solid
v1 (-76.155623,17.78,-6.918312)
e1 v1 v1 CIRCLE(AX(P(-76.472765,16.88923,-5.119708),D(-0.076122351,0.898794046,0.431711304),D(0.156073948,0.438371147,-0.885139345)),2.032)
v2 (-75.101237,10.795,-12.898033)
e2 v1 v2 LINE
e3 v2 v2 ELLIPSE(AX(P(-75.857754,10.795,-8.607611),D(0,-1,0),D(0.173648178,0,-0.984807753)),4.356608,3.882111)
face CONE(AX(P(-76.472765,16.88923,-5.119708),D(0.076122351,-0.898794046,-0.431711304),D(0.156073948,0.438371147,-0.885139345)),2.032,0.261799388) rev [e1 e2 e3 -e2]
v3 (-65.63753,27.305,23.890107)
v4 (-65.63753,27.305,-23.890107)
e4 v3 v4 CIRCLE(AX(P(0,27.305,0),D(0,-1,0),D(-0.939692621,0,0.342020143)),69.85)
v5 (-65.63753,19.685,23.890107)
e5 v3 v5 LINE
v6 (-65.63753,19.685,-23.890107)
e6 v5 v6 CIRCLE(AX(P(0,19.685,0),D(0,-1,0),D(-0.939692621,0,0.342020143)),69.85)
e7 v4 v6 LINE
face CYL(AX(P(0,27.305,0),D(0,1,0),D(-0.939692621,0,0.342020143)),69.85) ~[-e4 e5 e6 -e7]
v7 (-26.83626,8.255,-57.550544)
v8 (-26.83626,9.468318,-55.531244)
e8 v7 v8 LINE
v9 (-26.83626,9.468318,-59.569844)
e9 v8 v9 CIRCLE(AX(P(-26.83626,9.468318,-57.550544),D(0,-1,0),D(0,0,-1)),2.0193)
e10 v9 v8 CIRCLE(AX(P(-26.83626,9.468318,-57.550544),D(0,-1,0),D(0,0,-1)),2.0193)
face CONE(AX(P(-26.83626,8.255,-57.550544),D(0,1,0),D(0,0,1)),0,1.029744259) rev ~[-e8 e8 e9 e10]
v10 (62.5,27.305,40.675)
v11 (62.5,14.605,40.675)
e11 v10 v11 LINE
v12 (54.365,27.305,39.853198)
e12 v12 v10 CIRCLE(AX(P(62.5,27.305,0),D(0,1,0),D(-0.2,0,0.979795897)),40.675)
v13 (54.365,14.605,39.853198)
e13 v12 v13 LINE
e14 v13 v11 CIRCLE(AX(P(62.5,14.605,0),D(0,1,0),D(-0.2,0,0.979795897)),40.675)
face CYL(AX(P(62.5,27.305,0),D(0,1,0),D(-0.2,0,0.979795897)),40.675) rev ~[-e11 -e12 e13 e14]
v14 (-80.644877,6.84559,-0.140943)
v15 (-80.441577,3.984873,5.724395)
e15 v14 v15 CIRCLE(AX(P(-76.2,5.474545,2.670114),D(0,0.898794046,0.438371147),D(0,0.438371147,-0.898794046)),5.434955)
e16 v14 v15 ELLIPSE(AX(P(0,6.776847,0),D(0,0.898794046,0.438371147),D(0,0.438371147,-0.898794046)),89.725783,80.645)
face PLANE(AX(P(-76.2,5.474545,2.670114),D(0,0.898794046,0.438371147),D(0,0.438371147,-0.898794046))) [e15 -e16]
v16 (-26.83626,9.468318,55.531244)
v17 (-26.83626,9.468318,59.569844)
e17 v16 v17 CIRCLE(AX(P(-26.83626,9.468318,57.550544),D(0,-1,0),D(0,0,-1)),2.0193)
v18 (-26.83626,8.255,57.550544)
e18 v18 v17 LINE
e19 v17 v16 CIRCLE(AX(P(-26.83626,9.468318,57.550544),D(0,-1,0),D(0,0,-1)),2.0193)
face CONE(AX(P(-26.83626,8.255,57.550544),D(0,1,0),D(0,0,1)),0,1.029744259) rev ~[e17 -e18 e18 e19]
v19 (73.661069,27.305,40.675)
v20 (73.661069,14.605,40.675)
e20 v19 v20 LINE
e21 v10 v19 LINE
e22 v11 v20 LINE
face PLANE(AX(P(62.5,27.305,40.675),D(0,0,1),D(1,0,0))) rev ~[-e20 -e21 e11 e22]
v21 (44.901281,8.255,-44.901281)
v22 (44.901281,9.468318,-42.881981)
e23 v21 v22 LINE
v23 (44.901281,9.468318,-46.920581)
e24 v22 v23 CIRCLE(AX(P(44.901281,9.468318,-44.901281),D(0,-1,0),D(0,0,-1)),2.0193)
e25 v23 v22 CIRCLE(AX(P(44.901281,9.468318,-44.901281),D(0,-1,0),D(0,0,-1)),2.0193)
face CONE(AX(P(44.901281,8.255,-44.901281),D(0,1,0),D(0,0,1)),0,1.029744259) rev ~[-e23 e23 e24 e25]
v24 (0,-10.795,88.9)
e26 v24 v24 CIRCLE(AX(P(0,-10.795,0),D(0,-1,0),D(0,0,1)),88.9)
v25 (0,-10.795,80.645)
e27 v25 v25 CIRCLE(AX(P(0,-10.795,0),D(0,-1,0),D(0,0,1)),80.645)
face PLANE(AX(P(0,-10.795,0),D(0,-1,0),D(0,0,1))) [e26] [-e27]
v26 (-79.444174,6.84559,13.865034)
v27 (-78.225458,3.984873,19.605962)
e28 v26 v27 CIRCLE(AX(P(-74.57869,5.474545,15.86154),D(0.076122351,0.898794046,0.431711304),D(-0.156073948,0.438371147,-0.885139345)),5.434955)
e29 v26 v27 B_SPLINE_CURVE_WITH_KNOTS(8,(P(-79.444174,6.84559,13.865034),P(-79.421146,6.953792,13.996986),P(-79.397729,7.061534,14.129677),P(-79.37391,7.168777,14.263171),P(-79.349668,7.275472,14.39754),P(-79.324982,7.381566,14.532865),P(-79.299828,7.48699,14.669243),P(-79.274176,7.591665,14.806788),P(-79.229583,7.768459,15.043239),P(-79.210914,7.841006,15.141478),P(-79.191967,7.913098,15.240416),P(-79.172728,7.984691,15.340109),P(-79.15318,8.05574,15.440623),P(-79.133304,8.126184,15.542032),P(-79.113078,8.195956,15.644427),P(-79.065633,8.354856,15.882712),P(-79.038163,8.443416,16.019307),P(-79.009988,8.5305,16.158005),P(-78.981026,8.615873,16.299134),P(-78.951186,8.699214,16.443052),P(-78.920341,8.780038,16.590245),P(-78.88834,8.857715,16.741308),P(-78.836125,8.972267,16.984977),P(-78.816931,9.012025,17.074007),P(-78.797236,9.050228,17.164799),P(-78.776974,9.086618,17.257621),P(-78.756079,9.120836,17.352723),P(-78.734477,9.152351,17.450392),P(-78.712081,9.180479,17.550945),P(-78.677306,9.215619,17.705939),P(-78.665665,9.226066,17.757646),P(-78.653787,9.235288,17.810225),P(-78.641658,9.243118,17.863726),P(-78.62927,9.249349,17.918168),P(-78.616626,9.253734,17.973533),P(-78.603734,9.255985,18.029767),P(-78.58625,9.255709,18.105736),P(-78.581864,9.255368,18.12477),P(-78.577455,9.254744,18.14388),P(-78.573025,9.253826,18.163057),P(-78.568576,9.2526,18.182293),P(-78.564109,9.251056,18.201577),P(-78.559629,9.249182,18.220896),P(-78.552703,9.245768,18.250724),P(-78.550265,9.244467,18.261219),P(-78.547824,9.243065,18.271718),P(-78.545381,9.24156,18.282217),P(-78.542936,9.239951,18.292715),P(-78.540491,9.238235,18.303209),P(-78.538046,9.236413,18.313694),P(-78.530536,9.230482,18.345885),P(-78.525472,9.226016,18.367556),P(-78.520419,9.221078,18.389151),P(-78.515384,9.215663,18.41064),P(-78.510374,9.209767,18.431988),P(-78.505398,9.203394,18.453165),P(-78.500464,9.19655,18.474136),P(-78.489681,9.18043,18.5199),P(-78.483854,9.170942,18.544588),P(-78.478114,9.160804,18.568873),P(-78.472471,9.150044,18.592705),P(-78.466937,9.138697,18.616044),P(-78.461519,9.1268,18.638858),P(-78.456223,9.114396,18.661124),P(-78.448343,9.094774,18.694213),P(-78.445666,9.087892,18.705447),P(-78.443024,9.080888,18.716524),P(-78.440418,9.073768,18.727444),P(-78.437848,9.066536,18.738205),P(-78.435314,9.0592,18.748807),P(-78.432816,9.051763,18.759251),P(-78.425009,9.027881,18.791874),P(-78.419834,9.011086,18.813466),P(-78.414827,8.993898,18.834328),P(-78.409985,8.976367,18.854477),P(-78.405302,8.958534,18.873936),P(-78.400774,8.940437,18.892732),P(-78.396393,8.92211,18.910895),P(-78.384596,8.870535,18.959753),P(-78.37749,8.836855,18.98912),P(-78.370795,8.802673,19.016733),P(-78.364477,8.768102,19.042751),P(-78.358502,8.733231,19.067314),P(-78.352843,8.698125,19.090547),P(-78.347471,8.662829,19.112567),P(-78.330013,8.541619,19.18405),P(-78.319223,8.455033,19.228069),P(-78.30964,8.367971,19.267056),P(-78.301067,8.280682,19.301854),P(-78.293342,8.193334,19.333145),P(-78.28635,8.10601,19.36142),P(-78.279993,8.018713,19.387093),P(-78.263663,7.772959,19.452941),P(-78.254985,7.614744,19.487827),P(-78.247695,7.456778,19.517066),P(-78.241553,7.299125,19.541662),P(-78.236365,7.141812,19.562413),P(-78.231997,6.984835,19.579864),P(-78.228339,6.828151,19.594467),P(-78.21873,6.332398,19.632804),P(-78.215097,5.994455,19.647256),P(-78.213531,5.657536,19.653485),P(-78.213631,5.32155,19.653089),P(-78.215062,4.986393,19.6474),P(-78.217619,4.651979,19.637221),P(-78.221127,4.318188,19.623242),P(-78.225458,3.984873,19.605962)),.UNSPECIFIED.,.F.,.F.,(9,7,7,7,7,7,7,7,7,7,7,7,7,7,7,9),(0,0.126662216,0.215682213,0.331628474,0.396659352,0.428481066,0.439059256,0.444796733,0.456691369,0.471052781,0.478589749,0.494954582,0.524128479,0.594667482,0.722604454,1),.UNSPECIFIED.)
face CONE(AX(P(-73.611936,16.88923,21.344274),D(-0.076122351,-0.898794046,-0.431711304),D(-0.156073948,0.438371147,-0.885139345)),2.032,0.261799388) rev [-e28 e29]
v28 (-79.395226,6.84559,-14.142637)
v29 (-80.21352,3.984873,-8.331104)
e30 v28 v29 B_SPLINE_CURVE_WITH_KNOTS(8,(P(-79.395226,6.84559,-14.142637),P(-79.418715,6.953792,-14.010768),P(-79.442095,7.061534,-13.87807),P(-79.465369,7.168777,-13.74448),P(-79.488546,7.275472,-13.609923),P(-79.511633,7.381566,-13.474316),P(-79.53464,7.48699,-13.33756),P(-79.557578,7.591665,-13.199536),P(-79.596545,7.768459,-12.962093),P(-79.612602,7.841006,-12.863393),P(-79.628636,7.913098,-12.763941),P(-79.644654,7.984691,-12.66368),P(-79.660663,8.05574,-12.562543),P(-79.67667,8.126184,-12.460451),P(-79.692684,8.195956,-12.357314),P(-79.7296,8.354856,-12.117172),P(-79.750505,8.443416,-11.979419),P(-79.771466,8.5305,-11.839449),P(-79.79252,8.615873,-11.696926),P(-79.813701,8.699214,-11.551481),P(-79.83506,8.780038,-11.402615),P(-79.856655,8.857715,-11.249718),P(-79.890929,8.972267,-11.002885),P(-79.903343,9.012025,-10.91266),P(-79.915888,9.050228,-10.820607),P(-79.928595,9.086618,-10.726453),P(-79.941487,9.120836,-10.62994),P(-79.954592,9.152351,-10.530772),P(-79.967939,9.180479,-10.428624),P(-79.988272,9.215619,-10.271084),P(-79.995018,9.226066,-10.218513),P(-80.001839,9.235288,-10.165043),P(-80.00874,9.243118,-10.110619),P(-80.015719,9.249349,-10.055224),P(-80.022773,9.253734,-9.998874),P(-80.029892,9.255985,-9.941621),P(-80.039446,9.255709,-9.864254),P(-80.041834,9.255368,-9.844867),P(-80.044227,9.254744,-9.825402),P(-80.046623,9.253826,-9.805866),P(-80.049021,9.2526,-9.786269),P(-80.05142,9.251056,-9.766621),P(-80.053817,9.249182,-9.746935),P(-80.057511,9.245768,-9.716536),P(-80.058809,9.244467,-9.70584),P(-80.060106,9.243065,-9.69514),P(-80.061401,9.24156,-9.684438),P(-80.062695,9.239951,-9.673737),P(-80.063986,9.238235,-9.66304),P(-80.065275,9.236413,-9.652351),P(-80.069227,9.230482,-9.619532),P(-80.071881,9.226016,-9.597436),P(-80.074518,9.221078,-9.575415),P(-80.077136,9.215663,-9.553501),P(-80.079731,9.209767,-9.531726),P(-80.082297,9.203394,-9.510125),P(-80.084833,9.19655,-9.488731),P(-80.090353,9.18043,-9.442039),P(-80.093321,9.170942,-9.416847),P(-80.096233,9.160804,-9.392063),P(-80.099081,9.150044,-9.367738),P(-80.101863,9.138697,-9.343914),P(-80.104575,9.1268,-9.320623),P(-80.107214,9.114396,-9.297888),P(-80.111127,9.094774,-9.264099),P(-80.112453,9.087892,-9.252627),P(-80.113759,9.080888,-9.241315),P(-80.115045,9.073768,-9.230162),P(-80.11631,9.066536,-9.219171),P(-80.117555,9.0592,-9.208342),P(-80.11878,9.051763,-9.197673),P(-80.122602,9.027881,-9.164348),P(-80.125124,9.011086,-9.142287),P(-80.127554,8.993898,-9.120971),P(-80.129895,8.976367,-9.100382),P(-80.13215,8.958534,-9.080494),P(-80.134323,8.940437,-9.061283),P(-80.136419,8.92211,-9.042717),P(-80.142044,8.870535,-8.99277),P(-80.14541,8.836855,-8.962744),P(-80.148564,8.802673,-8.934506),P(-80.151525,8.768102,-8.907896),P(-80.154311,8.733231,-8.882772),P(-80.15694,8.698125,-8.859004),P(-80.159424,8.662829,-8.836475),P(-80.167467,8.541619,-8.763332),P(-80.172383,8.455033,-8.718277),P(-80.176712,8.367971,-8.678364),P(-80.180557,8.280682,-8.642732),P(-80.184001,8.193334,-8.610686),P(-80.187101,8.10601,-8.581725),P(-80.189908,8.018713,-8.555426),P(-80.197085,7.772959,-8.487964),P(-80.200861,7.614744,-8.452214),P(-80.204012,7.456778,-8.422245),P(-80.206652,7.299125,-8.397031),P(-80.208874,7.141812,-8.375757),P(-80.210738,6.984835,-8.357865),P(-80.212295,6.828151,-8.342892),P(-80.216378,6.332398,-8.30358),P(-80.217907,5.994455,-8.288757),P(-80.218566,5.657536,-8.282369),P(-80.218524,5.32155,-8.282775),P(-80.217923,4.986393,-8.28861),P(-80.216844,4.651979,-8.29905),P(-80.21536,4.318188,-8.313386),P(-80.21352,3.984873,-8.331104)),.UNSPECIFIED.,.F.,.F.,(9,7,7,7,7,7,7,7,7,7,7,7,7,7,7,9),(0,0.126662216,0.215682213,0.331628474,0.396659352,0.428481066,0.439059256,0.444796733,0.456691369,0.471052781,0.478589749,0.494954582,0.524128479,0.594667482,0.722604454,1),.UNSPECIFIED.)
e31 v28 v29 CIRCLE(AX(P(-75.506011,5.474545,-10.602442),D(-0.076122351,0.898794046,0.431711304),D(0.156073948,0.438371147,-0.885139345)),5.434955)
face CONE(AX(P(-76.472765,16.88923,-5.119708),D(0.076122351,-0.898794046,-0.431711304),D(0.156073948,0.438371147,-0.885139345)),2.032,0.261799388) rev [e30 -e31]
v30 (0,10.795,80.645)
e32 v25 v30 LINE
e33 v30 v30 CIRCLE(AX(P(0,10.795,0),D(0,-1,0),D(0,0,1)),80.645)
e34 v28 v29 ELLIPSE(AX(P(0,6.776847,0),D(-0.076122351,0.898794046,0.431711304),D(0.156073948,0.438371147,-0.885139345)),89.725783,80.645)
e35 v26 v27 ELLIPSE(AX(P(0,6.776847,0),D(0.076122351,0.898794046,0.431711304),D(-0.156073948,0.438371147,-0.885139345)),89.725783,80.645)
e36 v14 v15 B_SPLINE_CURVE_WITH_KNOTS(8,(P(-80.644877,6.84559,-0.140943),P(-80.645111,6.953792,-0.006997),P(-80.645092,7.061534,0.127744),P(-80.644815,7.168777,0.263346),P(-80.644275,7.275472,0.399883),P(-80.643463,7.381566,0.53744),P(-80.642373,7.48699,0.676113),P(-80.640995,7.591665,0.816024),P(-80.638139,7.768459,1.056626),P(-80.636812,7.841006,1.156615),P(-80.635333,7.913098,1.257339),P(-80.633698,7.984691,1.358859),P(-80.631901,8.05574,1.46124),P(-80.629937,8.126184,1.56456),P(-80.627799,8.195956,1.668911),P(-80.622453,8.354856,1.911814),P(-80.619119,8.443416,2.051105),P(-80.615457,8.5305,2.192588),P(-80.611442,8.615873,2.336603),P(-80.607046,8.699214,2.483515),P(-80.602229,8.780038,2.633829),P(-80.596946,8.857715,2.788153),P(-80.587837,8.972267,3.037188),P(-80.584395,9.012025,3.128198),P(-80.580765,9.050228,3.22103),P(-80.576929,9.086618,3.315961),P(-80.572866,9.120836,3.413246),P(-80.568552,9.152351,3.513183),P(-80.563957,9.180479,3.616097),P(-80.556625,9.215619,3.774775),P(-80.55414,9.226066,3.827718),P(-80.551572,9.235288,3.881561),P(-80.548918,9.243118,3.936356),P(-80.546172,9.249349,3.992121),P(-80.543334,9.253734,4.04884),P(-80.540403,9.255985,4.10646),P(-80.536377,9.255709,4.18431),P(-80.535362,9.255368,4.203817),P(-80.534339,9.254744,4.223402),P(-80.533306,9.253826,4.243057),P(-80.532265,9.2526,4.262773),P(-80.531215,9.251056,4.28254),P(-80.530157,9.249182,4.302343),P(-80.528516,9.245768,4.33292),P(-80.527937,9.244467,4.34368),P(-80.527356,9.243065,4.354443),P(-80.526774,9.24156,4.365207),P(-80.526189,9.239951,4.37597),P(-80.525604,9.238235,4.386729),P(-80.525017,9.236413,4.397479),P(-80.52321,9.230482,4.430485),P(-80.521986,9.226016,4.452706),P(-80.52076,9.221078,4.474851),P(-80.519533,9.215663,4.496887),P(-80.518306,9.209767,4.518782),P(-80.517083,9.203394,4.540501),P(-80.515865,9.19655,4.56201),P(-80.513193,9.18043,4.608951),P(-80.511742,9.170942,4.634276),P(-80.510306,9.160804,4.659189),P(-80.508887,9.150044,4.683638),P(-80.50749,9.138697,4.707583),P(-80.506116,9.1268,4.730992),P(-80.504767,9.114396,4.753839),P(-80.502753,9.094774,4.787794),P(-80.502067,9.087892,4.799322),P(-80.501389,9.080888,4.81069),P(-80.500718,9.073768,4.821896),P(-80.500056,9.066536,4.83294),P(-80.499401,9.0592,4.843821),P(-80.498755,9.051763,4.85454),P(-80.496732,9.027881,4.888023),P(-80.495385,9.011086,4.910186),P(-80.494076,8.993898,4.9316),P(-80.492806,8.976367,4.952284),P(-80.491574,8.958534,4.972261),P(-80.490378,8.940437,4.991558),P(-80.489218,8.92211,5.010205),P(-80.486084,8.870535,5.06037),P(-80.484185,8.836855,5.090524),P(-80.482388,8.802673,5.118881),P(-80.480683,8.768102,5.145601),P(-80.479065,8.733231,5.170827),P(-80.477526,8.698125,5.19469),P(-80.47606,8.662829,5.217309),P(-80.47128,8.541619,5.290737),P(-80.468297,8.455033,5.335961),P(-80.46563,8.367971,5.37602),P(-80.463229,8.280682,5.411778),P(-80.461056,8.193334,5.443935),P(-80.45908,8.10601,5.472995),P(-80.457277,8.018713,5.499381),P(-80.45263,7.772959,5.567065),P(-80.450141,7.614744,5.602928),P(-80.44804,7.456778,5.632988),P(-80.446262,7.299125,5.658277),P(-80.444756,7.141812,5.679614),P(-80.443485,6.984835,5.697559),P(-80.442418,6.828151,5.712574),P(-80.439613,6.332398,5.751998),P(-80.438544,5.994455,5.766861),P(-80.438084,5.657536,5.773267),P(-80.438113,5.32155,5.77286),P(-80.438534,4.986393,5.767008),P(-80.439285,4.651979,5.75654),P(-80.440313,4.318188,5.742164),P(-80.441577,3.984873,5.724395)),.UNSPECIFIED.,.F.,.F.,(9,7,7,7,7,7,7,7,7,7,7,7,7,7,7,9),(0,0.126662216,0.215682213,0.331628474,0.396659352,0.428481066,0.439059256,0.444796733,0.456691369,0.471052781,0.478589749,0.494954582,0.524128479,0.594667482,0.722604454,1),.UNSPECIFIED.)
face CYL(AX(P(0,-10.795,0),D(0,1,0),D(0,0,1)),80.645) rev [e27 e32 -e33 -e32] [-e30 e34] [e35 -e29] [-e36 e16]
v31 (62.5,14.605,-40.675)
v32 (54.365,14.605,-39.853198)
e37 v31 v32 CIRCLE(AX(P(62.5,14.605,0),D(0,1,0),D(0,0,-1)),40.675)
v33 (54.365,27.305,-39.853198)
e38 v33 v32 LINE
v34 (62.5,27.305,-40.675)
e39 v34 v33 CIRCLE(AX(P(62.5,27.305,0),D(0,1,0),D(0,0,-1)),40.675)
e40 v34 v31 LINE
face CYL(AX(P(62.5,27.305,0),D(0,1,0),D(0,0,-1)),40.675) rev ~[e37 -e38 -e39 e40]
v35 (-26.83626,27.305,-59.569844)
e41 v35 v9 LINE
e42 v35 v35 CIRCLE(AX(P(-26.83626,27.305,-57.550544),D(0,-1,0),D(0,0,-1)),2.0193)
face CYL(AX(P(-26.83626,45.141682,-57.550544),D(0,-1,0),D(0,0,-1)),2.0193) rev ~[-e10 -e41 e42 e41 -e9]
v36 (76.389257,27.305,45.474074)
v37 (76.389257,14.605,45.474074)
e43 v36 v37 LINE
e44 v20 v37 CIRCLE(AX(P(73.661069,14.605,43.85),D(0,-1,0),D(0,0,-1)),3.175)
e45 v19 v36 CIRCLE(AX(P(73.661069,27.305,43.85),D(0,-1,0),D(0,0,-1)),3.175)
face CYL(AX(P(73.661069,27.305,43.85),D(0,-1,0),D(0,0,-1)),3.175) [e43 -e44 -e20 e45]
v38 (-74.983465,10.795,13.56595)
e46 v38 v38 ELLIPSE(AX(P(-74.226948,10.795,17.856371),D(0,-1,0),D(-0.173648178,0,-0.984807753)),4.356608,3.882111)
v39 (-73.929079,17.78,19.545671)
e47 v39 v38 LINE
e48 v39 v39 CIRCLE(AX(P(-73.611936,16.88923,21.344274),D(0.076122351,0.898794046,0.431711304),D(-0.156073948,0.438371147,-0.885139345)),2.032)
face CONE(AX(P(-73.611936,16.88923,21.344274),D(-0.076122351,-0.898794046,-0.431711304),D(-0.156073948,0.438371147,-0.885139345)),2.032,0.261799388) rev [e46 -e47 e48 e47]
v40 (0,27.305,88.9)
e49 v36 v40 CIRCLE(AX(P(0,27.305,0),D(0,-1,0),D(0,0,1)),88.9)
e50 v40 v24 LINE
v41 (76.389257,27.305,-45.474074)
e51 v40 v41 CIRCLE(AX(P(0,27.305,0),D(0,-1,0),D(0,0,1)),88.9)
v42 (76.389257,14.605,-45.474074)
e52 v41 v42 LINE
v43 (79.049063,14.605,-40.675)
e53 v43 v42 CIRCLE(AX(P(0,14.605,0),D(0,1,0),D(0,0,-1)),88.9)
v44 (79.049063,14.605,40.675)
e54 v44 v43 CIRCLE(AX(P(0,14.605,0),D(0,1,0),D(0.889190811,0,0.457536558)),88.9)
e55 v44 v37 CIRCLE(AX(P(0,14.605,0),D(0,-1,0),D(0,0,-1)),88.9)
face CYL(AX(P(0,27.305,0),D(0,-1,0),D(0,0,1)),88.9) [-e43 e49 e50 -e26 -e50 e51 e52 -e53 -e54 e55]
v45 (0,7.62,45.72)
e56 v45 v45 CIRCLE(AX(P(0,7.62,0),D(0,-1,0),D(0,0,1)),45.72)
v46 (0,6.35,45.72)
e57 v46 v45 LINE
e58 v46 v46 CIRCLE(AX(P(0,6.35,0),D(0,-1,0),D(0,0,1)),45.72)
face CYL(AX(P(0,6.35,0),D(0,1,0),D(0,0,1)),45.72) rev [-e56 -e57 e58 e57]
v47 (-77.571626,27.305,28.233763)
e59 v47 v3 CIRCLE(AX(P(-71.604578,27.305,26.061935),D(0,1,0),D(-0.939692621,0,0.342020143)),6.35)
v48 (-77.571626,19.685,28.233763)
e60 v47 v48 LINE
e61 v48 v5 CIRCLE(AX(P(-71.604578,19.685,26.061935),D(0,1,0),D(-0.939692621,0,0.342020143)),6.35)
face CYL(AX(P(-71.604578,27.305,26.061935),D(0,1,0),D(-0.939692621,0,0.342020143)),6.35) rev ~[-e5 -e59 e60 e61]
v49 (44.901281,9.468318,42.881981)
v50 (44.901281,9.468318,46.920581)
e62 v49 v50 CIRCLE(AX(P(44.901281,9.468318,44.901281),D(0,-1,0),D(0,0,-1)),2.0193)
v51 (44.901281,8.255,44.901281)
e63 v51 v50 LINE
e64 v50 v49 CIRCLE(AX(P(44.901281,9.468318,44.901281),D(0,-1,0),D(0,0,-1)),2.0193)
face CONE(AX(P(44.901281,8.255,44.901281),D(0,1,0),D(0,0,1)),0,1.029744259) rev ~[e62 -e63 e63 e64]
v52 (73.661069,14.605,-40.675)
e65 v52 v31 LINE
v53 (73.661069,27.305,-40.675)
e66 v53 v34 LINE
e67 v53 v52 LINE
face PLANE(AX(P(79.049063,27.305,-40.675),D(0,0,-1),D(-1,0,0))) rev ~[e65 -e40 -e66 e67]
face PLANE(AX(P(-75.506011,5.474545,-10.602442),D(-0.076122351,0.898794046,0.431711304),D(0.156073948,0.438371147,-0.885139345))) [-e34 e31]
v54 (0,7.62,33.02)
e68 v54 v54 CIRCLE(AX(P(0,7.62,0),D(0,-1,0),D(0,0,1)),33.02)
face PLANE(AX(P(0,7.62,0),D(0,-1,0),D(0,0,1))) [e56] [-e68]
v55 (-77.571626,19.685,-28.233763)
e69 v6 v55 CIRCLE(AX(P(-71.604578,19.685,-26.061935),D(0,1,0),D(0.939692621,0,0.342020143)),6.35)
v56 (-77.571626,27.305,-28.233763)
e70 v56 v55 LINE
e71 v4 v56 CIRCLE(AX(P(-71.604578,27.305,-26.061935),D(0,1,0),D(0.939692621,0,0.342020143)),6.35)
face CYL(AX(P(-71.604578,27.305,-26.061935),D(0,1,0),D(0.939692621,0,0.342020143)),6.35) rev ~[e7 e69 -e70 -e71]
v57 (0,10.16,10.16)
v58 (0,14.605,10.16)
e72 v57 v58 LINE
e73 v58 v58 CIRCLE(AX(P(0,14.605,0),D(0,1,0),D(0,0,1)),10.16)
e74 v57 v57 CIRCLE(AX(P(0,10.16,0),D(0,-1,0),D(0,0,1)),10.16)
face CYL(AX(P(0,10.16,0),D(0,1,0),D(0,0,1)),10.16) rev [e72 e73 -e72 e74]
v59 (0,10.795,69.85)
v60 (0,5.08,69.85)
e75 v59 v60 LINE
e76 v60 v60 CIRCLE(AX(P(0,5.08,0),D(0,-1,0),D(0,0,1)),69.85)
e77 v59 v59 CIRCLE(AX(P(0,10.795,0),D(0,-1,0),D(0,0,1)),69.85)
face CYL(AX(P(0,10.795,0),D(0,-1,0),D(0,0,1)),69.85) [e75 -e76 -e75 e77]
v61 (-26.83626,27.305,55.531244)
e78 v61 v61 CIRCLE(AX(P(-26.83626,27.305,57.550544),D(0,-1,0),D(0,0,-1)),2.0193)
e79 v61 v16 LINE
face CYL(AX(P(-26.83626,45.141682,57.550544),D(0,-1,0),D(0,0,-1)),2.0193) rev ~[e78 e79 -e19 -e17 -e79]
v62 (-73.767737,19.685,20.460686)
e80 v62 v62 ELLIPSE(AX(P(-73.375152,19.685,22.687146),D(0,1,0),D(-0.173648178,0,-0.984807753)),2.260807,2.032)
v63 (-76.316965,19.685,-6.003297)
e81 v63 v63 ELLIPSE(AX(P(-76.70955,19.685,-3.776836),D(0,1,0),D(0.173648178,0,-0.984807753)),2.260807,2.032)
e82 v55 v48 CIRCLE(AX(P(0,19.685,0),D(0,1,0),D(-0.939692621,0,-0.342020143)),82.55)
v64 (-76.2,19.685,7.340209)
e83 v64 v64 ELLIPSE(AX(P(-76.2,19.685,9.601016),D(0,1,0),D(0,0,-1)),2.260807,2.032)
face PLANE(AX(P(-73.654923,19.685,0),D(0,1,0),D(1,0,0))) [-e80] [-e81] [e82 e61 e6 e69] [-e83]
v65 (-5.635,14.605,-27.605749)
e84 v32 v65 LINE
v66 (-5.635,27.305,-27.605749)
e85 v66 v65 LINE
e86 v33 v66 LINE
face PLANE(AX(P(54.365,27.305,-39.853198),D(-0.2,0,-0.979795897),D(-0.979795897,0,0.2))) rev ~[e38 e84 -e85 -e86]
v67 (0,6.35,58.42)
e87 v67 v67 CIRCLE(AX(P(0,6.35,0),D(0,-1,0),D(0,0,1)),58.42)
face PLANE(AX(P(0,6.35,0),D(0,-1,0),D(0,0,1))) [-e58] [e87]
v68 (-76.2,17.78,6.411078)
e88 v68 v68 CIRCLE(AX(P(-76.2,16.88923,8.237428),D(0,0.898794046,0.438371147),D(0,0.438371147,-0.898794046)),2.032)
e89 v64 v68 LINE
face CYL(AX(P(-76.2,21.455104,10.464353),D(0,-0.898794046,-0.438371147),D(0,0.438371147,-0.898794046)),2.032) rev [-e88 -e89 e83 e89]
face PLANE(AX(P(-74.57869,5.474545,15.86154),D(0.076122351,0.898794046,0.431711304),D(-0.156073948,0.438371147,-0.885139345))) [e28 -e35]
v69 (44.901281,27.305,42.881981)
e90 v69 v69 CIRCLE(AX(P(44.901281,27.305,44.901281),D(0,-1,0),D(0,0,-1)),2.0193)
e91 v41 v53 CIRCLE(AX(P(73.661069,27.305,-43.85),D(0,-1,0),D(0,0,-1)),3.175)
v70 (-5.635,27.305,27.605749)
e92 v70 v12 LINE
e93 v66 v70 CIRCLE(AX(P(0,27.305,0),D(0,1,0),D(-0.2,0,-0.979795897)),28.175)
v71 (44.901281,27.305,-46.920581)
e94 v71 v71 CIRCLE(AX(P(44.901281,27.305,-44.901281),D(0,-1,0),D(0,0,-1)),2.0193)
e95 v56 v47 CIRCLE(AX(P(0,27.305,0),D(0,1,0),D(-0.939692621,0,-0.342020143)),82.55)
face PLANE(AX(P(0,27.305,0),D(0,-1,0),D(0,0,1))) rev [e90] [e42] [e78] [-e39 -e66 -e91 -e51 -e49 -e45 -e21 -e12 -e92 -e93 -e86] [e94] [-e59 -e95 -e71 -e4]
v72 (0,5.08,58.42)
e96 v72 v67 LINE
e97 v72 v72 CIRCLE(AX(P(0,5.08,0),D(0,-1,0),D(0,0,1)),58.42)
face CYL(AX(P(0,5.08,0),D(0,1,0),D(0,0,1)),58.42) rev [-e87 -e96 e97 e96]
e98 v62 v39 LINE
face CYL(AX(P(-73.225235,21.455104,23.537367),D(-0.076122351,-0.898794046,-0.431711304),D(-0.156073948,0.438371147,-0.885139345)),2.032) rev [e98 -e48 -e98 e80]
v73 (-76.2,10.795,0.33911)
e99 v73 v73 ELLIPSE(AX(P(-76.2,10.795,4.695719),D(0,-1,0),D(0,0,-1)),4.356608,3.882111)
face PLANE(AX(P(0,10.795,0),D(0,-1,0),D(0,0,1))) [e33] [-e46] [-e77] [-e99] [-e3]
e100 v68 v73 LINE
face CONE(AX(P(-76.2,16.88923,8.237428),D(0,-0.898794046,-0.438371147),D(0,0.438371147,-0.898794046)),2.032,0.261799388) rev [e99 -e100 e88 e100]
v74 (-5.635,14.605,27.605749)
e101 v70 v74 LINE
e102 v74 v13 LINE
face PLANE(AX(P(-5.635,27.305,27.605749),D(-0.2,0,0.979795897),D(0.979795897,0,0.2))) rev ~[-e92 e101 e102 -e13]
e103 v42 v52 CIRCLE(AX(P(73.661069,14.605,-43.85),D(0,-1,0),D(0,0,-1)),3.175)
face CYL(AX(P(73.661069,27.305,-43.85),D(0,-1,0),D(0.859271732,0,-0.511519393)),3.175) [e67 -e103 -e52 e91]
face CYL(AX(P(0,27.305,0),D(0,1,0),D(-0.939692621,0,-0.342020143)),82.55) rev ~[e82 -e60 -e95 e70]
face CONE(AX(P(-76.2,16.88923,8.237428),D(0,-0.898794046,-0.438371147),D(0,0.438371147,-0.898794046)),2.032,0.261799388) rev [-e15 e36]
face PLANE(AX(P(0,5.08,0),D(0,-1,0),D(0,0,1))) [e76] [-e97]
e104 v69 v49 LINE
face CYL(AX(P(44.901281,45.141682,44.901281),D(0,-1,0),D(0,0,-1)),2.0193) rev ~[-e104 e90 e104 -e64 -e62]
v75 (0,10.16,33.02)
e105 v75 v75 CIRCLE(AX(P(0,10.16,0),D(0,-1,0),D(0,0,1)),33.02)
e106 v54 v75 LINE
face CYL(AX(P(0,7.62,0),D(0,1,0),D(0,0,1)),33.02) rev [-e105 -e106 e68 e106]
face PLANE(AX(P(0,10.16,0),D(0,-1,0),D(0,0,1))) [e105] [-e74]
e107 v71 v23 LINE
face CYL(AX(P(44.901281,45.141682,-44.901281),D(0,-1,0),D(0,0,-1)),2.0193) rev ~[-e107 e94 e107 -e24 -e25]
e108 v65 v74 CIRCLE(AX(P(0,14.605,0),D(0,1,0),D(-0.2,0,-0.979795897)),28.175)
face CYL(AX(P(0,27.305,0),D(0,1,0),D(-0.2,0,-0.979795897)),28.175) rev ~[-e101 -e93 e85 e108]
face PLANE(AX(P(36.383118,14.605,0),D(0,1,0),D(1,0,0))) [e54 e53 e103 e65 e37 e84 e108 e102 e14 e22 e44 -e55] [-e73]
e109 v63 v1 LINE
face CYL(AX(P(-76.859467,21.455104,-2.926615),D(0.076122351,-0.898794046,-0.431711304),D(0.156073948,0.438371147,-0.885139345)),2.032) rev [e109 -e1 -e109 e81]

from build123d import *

# Parameters (mm, degrees)
SKETCH1_R                       = 10.16
GEAR_SLOT_DEPTH                 = 12.7
CIRPATTERN1_COUNT               = 2
CIRPATTERN1_ANGLE               = 10
CIRPATTERN1_THE_OTHER_WAY_COUNT = 2
CIRPATTERN1_THE_OTHER_WAY_ANGLE = 10
GAS_MANIFOLD_DEPTH              = 7.62
FILLET1_R                       = 3.175
TAP_DRILL_FOR_10_32_TAP1_D      = 4.0386
TAP_DRILL_FOR_10_32_TAP1_DEPTH  = 17.836682152
TAP_DRILL_FOR_10_32_TAP1_TIP    = 1.213317848


with BuildPart() as part:
    # Sketch9 → Revolve1 (revolve)
    with BuildSketch(Plane.XY, mode=Mode.PRIVATE) as revolve1_sk:
        Polygon((-10.16, 10.16), (-10.16, 27.305), (-88.9, 27.305), (-88.9, -10.795), (-80.645, -10.795), (-80.645, 10.795), (-69.85, 10.795), (-69.85, 5.08), (-58.42, 5.08), (-58.42, 6.35), (-45.72, 6.35), (-45.72, 7.62), (-33.02, 7.62), (-33.02, 10.16), align=None)
    revolve(revolve1_sk.sketch.rotate(Axis((0, 18.1216542, 0), (0, -1, 0)), 270), axis=Axis((0, 18.1216542, 0), (0, -1, 0)))

    # Sketch1 → Gear Slot (cut)
    with BuildSketch(Plane(origin=(0, 27.305, 0), x_dir=(1, 0, 0), z_dir=(0, 1, 0))):
        with BuildLine():
            Line((62.5, -40.675), (79.049063087, -40.675))
            ThreePointArc((79.049063087, -40.675), (88.9, 0), (79.049063087, 40.675))
            Line((79.049063087, 40.675), (62.5, 40.675))
            ThreePointArc((62.5, 40.675), (58.41179797, 40.469028023), (54.365, 39.853198115))
            Line((54.365, 39.853198115), (-5.635, 27.605749401))
            ThreePointArc((-5.635, 27.605749401), (-28.175, 0), (-5.635, -27.605749401))
            Line((-5.635, -27.605749401), (54.365, -39.853198115))
            ThreePointArc((54.365, -39.853198115), (58.41179797, -40.469028023), (62.5, -40.675))
        make_face()
        with Locations(Location((0, 0, 0), (0, 0, 270))):
            Circle(SKETCH1_R, mode=Mode.SUBTRACT)
    extrude(amount=-GEAR_SLOT_DEPTH, mode=Mode.SUBTRACT)

    # Sketch5 one side → Orifice (revolve, cut)
    with BuildSketch(Plane(origin=(-76.2, 0, 0), x_dir=(0, 0, -1), z_dir=(1, 0, 0)), mode=Mode.PRIVATE) as orifice_sk:
        Polygon((-10.063777286, 15.998459659), (-7.555019185, 3.092018098), (-2.67011422, 5.474545442), (-10.464353209, 21.455103585), (-12.290702712, 20.564333415), align=None)
    orifice = revolve(orifice_sk.sketch.rotate(Axis((-76.2, 5.474545442, 2.67011422), (0, 0.8987940462991696, 0.43837114678907213)), 180), axis=Axis((-76.2, 5.474545442, 2.67011422), (0, 0.8987940462991696, 0.43837114678907213)), mode=Mode.SUBTRACT)

    # CirPattern1: Orifice ×2 about axis
    cirpattern1_axis = Axis((0, 17.78, 0), (0, -1, 0))
    for i in range(1, CIRPATTERN1_COUNT):
        add(orifice.rotate(cirpattern1_axis, i * CIRPATTERN1_ANGLE / (CIRPATTERN1_COUNT - 1)), mode=Mode.SUBTRACT)

    # CirPattern1 the other way: Orifice ×2 about axis
    cirpattern1_the_other_way_axis = Axis((0, 17.78, 0), (0, 1, 0))
    for i in range(1, CIRPATTERN1_THE_OTHER_WAY_COUNT):
        add(orifice.rotate(cirpattern1_the_other_way_axis, i * CIRPATTERN1_THE_OTHER_WAY_ANGLE / (CIRPATTERN1_THE_OTHER_WAY_COUNT - 1)), mode=Mode.SUBTRACT)

    # Sketch10 → Gas Manifold (cut)
    with BuildSketch(Plane(origin=(0, 27.305, 0), x_dir=(1, 0, 0), z_dir=(0, 1, 0))):
        with BuildLine():
            ThreePointArc((-65.637529562, -23.890107011), (-69.85, 0), (-65.637529562, 23.890107011))
            ThreePointArc((-65.637529562, 23.890107011), (-69.432749794, 32.028983063), (-77.571625846, 28.233762832))
            ThreePointArc((-77.571625846, 28.233762832), (-82.55, 0), (-77.571625846, -28.233762832))
            ThreePointArc((-77.571625846, -28.233762832), (-69.432749794, -32.028983063), (-65.637529562, -23.890107011))
        make_face()
    extrude(amount=-GAS_MANIFOLD_DEPTH, mode=Mode.SUBTRACT)

    # Fillet1
    fillet1_edges = [part.edges().sort_by_distance(p)[0] for p in [
        (79.049063087, 20.955, -40.675),
        (79.049063087, 20.955, 40.675),
    ]]
    fillet(fillet1_edges, radius=FILLET1_R)

    # Tap Drill for #10-32 Tap1
    with Locations(Plane(origin=(44.901280605, 27.305, -44.901280605), x_dir=(0, 0, 1), z_dir=(0, 1, 0))):
        with Locations((0, 0), (-12.649263872, -71.737540226), (102.451825082, -71.737540226), (89.80256121, 0)):
            Hole(TAP_DRILL_FOR_10_32_TAP1_D / 2, depth=TAP_DRILL_FOR_10_32_TAP1_DEPTH)
            with Locations((0, 0, -(TAP_DRILL_FOR_10_32_TAP1_DEPTH + TAP_DRILL_FOR_10_32_TAP1_TIP / 2))):  # 118° drill point
                Cone(0, TAP_DRILL_FOR_10_32_TAP1_D / 2, TAP_DRILL_FOR_10_32_TAP1_TIP, mode=Mode.SUBTRACT)


solid = part.part
